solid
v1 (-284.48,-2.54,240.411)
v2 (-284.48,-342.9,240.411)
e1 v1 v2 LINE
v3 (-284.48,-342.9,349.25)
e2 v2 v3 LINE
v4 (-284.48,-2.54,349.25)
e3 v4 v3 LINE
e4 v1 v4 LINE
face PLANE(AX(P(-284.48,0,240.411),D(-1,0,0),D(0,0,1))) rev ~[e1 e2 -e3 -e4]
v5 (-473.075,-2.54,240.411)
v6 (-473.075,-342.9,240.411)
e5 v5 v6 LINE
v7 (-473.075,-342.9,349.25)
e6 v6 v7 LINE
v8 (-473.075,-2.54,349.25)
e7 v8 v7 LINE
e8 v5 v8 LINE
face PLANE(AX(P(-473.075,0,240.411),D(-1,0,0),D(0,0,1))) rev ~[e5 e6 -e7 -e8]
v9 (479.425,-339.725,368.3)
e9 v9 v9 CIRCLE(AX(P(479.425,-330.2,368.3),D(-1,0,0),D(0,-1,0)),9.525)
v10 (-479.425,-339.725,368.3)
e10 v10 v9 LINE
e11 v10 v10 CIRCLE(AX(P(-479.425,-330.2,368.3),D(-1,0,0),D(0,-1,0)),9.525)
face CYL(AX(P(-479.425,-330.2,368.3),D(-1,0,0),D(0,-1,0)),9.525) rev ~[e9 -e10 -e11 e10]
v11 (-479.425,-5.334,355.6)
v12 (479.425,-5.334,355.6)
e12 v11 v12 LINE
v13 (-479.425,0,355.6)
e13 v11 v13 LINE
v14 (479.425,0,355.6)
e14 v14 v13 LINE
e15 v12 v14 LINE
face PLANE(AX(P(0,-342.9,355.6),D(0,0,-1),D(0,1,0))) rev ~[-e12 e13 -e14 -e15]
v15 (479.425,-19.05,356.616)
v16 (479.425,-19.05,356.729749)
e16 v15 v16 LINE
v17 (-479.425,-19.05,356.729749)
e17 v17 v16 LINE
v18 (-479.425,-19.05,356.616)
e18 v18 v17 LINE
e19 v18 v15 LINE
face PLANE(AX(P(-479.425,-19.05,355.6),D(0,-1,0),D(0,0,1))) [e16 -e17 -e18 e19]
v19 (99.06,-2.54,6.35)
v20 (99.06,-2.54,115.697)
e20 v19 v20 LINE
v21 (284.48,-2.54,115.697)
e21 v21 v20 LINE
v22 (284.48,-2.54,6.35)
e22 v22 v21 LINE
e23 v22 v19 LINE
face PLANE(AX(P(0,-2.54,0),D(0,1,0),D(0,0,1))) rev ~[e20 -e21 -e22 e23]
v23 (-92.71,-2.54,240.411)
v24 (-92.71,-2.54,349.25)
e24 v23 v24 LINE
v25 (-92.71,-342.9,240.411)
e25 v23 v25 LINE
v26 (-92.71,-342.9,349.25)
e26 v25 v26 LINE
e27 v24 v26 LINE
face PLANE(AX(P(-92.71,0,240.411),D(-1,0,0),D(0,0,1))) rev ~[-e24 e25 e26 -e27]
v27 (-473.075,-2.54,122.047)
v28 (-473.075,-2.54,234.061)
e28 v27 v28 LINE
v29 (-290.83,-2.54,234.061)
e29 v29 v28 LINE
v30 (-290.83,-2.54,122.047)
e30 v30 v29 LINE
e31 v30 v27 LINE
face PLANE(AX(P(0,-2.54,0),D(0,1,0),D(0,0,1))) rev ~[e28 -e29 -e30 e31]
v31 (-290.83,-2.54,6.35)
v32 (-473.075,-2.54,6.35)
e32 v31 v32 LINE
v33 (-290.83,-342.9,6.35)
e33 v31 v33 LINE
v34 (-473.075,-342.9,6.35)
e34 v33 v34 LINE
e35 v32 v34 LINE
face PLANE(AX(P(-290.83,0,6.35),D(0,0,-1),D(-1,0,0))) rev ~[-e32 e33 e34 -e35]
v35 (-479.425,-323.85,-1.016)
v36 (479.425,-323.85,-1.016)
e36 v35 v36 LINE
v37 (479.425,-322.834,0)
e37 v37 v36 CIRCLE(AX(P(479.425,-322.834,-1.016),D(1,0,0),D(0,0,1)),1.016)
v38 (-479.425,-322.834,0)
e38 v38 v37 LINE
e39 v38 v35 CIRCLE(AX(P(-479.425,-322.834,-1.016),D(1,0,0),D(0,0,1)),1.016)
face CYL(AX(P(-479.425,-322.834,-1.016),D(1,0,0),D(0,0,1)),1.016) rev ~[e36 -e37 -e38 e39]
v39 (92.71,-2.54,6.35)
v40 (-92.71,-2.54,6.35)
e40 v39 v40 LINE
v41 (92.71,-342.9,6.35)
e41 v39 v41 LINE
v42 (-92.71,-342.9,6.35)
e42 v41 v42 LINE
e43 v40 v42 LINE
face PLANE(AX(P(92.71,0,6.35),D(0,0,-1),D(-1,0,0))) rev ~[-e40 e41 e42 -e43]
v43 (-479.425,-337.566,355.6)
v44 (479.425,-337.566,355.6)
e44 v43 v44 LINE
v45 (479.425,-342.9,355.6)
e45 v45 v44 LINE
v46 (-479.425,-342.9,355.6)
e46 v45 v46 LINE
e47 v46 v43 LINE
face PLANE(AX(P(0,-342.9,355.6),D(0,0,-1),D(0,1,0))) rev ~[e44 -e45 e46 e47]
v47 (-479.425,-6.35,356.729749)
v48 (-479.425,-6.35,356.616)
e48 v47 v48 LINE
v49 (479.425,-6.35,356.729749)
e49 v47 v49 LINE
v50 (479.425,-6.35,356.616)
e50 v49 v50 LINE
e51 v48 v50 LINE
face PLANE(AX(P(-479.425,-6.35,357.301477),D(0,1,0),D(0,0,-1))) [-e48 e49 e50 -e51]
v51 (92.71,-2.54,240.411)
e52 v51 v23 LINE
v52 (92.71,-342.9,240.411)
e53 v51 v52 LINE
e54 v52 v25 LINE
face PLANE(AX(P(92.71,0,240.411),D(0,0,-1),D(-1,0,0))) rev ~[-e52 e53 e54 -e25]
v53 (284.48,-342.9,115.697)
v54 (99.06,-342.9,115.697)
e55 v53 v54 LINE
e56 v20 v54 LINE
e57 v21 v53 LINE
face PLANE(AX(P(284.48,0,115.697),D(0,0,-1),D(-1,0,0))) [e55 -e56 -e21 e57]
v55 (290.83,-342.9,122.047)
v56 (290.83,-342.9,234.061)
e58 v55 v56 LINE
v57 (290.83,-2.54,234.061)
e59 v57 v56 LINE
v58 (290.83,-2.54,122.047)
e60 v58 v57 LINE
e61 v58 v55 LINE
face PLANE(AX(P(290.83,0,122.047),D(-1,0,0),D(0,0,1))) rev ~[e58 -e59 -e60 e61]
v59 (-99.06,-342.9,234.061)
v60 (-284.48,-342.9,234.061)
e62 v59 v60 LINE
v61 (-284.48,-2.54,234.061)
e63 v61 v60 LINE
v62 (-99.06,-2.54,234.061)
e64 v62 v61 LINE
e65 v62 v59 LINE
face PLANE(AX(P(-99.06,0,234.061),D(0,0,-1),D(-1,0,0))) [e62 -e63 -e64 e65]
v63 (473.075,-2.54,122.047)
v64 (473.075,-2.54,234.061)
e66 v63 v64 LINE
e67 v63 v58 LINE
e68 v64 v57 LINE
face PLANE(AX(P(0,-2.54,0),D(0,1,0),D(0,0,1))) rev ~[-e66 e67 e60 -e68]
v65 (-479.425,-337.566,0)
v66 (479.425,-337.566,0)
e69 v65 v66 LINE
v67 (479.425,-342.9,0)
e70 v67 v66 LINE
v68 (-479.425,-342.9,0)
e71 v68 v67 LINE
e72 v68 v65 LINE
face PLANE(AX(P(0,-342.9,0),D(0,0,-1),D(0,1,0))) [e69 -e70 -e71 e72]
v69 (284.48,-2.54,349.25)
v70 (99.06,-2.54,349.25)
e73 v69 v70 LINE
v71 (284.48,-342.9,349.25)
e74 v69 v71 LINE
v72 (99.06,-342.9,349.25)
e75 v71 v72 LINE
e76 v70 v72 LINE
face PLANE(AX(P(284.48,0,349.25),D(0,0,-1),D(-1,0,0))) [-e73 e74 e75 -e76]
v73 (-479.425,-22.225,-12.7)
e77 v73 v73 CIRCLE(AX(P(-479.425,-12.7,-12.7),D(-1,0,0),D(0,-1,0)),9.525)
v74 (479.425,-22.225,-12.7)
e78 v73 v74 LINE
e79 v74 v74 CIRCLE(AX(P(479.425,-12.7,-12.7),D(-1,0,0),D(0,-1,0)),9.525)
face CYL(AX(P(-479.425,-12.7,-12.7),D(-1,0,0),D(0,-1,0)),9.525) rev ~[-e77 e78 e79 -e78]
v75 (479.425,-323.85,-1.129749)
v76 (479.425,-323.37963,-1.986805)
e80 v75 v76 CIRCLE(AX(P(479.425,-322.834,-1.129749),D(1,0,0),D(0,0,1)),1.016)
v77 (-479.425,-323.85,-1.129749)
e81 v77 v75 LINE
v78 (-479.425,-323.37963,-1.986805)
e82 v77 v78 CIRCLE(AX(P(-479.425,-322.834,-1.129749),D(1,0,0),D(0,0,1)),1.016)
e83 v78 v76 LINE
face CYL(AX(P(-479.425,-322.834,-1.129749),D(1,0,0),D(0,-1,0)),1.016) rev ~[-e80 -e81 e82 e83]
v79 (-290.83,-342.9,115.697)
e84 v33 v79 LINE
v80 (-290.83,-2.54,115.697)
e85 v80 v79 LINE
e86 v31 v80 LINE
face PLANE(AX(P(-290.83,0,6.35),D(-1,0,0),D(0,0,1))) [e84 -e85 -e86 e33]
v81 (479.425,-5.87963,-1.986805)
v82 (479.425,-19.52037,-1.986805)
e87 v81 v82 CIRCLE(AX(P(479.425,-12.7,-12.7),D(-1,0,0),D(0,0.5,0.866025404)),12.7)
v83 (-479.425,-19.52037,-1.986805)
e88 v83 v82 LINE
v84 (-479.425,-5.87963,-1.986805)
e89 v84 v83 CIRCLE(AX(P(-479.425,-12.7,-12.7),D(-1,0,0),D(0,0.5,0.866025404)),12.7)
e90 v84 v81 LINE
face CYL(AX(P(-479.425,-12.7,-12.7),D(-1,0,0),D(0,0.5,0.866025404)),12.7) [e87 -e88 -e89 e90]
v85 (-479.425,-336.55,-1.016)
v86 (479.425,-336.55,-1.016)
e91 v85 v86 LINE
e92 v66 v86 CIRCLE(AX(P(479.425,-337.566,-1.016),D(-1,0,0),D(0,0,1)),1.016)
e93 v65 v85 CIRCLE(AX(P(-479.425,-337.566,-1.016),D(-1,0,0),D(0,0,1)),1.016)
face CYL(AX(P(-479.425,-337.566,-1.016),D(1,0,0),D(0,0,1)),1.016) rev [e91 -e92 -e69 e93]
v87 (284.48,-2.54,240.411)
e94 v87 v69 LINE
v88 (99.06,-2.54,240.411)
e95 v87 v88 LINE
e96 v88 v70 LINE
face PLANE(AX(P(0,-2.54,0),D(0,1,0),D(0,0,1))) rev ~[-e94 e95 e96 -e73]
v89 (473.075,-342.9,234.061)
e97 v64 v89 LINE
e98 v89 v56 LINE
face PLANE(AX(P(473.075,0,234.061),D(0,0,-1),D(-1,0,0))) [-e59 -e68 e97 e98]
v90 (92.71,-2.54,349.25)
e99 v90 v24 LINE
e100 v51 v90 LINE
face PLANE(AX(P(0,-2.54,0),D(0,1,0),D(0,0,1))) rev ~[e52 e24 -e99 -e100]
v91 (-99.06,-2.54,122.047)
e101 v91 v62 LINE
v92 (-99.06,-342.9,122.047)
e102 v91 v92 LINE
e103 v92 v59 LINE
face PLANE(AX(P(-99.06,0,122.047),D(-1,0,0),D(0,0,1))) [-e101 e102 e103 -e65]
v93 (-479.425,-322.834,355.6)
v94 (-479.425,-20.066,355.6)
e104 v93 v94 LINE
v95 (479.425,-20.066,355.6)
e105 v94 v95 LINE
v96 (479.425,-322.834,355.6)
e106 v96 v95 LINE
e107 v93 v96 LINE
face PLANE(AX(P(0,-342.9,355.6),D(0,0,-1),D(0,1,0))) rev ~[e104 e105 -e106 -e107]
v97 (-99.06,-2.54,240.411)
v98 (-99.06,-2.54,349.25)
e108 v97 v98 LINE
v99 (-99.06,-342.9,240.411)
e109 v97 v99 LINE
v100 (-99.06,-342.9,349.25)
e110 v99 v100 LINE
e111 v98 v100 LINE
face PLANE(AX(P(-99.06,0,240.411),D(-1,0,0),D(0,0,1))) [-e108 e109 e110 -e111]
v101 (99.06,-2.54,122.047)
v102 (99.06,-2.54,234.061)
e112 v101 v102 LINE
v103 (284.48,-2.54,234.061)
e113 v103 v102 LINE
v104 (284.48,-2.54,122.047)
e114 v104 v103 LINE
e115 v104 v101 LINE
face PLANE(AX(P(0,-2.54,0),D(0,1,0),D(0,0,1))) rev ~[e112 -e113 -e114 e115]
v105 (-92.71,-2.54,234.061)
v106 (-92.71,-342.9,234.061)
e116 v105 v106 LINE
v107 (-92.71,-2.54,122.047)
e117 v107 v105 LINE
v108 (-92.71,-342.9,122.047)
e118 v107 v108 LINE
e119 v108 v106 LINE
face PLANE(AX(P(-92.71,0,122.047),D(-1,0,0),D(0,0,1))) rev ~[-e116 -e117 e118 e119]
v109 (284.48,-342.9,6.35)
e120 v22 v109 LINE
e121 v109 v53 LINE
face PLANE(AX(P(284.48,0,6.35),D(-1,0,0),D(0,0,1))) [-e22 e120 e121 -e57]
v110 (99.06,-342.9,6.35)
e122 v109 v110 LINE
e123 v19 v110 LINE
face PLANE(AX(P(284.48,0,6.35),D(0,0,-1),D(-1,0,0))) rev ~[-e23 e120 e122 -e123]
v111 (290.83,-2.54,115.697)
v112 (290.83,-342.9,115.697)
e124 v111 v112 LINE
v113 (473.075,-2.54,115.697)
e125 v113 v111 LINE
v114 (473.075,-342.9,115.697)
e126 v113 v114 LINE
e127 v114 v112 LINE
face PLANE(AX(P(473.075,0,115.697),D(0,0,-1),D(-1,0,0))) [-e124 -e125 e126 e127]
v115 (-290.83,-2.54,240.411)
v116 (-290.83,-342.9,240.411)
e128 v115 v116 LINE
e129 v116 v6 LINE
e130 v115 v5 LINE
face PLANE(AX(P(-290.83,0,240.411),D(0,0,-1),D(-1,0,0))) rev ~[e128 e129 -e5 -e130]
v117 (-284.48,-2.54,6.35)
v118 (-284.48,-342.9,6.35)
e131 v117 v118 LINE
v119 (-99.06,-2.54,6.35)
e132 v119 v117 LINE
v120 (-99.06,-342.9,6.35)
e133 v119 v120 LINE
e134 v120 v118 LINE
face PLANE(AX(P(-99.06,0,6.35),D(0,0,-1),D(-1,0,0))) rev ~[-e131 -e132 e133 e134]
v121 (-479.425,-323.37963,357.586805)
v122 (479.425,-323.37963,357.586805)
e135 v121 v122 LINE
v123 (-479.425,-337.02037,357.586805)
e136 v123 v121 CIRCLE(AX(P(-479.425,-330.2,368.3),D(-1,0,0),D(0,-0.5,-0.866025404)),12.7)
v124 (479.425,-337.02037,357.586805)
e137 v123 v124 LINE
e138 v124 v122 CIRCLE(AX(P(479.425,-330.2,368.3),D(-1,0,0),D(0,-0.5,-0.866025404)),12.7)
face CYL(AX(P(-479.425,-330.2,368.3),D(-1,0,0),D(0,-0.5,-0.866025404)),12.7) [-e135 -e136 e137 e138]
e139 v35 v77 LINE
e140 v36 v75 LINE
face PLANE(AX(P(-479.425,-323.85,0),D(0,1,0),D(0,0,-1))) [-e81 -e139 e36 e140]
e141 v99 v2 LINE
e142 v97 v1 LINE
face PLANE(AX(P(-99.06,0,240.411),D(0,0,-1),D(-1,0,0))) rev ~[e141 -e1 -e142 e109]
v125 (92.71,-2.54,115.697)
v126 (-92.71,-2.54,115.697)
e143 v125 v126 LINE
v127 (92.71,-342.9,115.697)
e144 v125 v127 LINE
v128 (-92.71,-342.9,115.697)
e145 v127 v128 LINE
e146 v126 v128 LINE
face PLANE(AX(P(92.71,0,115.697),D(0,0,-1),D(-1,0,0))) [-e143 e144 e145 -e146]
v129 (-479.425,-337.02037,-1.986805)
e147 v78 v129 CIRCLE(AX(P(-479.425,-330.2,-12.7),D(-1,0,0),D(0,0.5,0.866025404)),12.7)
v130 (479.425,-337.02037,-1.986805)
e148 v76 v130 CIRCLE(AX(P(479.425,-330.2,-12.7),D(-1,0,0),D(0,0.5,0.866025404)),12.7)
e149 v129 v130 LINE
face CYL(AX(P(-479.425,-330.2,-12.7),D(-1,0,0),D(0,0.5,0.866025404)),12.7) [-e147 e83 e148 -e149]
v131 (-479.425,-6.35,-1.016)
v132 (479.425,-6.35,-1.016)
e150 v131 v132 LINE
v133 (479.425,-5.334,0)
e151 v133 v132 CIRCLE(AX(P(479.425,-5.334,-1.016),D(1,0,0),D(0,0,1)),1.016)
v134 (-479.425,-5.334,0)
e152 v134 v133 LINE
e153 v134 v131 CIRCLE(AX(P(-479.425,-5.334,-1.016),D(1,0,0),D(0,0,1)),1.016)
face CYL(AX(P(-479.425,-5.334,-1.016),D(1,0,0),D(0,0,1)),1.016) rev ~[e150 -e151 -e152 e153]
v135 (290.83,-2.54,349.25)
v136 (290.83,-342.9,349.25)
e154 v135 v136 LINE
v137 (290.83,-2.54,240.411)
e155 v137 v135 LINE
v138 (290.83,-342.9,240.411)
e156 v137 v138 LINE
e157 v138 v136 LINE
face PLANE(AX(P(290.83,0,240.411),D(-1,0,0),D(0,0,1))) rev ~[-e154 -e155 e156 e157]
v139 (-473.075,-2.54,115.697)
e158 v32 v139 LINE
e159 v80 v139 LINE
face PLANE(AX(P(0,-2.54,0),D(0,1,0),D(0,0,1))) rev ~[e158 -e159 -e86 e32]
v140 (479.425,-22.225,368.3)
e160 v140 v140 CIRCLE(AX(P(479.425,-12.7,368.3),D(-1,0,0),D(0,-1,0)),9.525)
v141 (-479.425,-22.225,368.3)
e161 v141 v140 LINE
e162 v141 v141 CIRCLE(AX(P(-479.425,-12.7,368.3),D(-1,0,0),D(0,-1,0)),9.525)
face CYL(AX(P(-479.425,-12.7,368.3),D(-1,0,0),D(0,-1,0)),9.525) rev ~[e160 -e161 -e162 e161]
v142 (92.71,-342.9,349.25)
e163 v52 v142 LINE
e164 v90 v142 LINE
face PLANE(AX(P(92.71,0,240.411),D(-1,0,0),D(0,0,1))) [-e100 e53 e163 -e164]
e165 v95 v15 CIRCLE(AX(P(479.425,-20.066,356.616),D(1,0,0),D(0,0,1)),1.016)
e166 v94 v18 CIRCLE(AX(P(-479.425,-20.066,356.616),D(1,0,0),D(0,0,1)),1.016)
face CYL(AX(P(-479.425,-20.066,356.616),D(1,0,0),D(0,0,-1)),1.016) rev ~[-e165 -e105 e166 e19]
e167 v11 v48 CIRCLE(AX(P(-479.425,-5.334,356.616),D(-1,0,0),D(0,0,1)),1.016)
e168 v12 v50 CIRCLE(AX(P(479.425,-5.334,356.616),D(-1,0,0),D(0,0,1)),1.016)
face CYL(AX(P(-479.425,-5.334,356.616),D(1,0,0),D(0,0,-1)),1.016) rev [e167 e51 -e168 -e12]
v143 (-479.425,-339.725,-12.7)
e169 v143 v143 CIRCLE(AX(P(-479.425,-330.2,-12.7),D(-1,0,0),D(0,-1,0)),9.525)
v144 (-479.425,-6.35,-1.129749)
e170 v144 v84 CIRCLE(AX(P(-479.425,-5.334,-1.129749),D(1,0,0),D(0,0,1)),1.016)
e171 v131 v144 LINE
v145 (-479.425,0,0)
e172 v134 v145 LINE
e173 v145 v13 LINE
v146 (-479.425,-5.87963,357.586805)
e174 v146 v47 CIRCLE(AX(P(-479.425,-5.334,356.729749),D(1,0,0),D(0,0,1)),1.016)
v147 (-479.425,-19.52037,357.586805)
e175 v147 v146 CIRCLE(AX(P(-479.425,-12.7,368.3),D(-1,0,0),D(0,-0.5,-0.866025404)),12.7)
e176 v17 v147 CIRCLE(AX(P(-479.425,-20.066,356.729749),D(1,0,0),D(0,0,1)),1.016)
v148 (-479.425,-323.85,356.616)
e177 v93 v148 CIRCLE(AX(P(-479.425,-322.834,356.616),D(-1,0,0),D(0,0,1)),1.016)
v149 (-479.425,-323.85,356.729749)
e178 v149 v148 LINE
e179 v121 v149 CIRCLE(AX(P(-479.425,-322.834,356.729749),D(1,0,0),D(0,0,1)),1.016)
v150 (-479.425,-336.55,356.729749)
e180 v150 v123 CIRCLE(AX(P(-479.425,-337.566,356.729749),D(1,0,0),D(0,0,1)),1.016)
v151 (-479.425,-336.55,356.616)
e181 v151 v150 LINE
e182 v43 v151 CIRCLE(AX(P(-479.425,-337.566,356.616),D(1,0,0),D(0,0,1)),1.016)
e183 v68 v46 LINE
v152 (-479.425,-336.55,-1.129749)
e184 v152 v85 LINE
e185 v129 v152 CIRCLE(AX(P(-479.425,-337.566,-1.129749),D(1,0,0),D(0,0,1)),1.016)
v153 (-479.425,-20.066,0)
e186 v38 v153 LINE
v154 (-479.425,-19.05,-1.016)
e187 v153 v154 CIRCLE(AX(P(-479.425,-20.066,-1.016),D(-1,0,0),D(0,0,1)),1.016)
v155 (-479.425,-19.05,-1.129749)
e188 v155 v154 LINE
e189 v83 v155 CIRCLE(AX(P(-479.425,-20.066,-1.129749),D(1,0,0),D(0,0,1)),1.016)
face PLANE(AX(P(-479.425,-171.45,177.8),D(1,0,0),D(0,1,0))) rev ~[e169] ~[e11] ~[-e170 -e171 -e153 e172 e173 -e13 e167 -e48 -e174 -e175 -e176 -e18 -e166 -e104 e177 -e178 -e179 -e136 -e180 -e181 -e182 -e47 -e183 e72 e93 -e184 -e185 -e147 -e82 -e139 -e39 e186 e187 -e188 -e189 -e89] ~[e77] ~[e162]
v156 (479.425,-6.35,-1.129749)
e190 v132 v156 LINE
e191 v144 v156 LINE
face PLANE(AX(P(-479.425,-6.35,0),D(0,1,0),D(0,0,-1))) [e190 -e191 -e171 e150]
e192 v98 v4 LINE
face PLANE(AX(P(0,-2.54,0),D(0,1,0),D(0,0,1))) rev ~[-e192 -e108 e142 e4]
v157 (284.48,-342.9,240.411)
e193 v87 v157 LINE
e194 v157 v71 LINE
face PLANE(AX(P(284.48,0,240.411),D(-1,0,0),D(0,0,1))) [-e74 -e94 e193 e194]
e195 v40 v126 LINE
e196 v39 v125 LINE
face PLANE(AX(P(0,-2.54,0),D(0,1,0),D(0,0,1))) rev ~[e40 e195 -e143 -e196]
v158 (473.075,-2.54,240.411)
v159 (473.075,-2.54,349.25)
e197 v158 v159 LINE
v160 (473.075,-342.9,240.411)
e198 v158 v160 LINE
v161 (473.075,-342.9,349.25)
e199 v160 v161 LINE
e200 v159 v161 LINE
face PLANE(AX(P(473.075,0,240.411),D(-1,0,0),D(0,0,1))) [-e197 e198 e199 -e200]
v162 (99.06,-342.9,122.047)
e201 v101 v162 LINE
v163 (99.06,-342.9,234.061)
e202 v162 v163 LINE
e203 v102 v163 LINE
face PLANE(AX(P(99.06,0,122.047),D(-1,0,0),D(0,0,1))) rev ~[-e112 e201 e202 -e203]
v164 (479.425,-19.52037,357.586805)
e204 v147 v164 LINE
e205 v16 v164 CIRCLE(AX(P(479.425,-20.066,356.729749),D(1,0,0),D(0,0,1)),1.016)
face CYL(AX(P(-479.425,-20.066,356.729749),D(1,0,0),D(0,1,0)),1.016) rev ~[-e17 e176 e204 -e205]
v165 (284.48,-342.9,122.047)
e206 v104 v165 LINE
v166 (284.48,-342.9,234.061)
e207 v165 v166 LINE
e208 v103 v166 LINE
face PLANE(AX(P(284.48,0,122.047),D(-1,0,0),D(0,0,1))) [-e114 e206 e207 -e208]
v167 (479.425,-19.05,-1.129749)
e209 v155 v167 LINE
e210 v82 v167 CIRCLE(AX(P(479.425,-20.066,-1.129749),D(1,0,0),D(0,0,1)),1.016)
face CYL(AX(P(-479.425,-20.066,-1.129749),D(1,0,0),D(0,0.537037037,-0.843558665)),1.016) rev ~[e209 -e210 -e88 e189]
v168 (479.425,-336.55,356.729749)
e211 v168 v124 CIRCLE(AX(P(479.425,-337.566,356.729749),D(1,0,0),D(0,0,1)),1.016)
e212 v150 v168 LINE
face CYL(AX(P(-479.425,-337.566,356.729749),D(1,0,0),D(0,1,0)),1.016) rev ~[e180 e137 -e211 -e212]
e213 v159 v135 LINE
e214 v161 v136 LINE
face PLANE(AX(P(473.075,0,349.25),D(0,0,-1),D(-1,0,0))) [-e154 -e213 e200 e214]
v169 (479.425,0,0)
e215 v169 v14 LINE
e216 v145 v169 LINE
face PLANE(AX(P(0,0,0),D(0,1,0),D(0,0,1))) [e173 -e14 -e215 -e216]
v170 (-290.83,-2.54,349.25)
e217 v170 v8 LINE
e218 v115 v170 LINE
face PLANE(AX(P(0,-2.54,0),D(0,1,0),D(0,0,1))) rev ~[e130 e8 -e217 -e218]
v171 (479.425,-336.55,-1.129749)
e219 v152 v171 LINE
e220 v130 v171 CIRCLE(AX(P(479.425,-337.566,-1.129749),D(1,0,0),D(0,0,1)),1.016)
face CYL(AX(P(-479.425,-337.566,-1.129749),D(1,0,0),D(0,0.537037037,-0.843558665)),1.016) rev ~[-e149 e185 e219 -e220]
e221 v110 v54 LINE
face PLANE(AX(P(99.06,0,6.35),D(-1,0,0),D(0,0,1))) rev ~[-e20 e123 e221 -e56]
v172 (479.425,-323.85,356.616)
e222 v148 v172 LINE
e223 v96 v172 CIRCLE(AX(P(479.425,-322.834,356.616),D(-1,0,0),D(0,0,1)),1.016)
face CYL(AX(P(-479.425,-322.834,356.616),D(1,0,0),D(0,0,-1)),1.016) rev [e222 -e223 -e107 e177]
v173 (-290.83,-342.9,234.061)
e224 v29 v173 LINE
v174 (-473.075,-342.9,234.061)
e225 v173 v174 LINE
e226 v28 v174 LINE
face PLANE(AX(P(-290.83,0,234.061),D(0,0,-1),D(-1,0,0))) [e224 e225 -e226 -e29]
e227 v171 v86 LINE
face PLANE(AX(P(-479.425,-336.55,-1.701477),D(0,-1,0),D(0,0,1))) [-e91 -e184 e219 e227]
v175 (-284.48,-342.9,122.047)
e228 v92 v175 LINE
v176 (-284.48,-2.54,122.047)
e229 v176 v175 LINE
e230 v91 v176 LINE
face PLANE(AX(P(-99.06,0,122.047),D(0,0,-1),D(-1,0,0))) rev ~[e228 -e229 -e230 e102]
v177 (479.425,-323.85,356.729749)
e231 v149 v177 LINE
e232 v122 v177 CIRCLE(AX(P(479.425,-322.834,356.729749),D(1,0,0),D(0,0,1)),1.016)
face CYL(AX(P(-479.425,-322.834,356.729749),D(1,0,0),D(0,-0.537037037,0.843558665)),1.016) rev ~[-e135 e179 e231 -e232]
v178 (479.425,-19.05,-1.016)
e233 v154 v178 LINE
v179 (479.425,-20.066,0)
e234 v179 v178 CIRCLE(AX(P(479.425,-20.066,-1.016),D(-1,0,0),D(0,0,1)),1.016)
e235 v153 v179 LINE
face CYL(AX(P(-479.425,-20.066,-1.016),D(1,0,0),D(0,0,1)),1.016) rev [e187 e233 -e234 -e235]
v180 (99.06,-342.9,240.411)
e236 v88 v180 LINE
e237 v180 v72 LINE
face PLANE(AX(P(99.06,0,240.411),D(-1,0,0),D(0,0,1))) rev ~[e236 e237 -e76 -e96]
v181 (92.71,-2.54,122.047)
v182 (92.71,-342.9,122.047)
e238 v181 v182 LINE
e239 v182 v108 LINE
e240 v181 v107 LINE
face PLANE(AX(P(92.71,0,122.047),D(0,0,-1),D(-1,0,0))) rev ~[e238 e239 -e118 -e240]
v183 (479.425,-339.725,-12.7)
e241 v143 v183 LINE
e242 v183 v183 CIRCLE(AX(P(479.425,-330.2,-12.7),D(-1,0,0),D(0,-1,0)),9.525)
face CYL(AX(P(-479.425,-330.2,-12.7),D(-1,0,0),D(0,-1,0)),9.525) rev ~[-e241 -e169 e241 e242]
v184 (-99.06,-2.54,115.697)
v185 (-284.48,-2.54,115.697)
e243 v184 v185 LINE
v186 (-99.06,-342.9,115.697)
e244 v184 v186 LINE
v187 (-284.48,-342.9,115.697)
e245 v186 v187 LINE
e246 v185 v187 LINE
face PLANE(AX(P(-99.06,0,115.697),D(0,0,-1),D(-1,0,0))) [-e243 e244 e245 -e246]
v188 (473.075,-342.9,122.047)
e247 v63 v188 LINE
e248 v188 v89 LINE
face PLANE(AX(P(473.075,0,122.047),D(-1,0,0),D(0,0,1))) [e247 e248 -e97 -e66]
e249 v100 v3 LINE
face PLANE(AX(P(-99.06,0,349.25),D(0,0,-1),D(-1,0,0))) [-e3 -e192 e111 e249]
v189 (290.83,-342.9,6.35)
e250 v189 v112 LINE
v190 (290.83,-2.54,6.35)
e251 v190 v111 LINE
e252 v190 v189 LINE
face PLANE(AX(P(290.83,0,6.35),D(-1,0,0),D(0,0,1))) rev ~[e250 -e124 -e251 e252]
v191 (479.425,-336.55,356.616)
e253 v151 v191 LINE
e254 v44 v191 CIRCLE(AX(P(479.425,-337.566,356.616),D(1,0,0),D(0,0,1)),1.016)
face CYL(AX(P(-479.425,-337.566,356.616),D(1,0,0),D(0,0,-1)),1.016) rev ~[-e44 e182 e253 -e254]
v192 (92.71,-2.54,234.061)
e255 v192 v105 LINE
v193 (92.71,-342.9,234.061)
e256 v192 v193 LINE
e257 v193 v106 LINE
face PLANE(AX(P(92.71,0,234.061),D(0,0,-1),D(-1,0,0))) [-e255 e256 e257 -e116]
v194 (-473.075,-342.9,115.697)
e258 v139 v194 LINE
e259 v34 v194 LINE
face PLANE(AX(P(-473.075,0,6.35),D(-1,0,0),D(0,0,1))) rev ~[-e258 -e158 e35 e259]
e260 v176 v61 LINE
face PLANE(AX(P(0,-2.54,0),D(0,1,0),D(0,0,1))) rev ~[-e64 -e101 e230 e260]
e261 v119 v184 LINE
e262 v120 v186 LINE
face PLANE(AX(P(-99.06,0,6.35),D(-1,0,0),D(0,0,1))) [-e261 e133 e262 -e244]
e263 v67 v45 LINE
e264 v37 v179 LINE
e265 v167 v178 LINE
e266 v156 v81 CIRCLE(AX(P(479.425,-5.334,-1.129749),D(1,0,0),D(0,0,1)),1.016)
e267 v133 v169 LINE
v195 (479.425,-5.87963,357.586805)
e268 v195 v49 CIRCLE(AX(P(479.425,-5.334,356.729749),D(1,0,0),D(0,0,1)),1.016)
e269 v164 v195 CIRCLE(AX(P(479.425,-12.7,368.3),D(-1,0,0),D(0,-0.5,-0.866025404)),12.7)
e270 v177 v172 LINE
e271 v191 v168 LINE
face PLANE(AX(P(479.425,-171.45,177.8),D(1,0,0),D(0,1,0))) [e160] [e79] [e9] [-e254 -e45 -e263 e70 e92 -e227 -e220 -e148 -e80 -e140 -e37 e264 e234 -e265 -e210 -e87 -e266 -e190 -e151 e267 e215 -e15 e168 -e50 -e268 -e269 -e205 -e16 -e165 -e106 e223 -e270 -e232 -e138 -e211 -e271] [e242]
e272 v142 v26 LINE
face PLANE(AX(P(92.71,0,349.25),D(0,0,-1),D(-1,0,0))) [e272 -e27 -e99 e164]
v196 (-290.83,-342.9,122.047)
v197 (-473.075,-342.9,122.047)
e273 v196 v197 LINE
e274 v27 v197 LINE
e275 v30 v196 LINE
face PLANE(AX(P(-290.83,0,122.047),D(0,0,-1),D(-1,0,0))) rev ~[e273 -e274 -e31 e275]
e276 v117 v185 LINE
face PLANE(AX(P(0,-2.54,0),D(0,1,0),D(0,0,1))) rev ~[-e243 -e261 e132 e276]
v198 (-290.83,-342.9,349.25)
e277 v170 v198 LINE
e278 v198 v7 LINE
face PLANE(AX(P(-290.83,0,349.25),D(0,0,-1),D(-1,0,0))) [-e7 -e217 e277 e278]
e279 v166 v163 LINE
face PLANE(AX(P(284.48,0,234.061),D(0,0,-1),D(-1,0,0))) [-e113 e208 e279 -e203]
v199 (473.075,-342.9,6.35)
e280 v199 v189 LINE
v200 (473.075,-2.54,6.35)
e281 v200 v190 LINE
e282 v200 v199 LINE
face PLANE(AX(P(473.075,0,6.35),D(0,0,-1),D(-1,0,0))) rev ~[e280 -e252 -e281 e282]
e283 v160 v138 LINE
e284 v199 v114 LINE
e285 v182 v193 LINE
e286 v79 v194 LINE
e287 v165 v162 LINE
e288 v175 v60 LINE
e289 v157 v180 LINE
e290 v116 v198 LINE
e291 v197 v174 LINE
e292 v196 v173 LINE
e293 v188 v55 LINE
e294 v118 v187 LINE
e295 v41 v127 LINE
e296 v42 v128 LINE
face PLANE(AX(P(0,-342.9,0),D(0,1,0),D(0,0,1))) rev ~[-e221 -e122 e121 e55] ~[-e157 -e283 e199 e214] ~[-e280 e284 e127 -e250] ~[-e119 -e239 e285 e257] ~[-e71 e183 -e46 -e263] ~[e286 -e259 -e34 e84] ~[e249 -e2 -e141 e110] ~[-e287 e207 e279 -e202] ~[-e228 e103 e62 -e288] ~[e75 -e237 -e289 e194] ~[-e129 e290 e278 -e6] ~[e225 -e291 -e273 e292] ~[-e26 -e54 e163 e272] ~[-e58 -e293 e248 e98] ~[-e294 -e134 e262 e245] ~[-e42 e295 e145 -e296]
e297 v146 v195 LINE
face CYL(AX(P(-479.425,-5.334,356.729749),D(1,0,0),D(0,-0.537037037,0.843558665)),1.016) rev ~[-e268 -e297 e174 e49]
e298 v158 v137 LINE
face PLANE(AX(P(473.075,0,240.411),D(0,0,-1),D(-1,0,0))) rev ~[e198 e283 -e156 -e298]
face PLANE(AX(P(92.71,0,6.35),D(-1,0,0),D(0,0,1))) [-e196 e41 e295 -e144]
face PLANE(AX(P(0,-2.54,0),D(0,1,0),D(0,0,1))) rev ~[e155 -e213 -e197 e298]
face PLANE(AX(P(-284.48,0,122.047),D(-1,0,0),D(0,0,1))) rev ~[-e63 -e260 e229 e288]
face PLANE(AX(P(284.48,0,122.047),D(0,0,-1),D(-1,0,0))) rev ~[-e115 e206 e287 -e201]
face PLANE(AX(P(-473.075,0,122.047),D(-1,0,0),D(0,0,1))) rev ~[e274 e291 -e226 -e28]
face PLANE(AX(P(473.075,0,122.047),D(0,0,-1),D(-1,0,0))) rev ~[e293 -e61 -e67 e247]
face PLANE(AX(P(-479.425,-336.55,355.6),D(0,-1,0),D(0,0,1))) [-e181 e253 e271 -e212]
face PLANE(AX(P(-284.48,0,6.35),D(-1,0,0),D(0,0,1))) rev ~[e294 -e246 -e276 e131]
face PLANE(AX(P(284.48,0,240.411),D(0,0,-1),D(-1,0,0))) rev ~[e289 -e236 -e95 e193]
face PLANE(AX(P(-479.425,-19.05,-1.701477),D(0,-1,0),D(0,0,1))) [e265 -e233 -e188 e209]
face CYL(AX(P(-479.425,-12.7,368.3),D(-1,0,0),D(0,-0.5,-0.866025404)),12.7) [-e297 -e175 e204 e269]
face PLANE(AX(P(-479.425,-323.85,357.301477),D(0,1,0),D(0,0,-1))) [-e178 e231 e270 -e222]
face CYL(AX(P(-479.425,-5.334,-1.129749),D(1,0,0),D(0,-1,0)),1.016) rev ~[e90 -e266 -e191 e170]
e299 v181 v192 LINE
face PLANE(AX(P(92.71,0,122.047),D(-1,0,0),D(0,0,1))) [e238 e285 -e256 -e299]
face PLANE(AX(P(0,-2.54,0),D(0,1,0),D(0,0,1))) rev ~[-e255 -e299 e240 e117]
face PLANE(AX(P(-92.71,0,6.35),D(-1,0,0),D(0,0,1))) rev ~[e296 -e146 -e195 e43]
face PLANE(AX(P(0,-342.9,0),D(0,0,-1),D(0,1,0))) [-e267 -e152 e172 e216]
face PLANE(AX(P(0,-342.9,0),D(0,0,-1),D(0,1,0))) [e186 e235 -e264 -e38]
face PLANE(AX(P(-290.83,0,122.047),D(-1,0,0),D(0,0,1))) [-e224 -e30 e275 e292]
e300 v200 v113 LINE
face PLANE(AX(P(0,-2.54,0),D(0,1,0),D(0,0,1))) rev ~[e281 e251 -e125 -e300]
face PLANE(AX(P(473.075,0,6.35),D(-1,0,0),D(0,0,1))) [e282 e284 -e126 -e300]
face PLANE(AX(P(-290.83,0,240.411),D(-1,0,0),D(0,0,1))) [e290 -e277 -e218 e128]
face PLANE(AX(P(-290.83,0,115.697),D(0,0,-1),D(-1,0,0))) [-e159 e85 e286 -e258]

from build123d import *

# Parameters (mm, degrees)
F0_W     = 342.9
F0_H     = 355.6
F1_DEPTH = 479.425
F2_T     = -2.54
F3_R     = 9.525
F4_DEPTH = 958.85
F5_W     = 958.85
F5_H     = 355.6
F5_W_2   = 182.245
F5_H_2   = 109.347
F5_W_3   = 185.42
F5_H_3   = 112.014
F5_H_4   = 108.839
F6_DEPTH = 342.9
F7_R     = 1.016


with BuildPart() as f1:
    # F0 (on Right) → F1 (new body, symmetric)
    with BuildSketch(Plane.YZ):
        with Locations((-171.45, 177.8)):
            Rectangle(F0_W, F0_H)
    extrude(amount=F1_DEPTH, both=True)

    # F2
    f2_openings = [f1.faces().sort_by_distance(p)[0] for p in [
        (0, -342.9, 177.8),
    ]]
    offset(amount=F2_T, openings=f2_openings)

    # F3 (on face) → F4 (join, through all)
    with BuildSketch(Plane(origin=(-479.425, 0, 0), x_dir=(0, -1, 0), z_dir=(-1, 0, 0))):
        with BuildLine():
            Line((19.05, 355.6), (19.05, 357.3014773719))
            ThreePointArc((19.05, 357.3014773719), (12.7, 381), (6.35, 357.3014773719))
            Line((6.35, 357.3014773719), (6.35, 355.6))
            Line((6.35, 355.6), (19.05, 355.6))
        make_face()
        with Locations((12.7, 368.3)):
            Circle(F3_R, mode=Mode.SUBTRACT)
        with BuildLine():
            Line((336.55, 355.6), (336.55, 357.3014773719))
            ThreePointArc((336.55, 357.3014773719), (330.2, 381), (323.85, 357.3014773719))
            Line((323.85, 357.3014773719), (323.85, 355.6))
            Line((323.85, 355.6), (336.55, 355.6))
        make_face()
        with Locations((330.2, 368.3)):
            Circle(F3_R, mode=Mode.SUBTRACT)
        with BuildLine():
            Line((6.35, 0), (6.35, -1.7014773719))
            ThreePointArc((6.35, -1.7014773719), (12.7, -25.4), (19.05, -1.7014773719))
            Line((19.05, -1.7014773719), (19.05, 0))
            Line((19.05, 0), (6.35, 0))
        make_face()
        with Locations((12.7, -12.7)):
            Circle(F3_R, mode=Mode.SUBTRACT)
        with BuildLine():
            Line((323.85, 0), (323.85, -1.7014773719))
            ThreePointArc((323.85, -1.7014773719), (330.2, -25.4), (336.55, -1.7014773719))
            Line((336.55, -1.7014773719), (336.55, 0))
            Line((336.55, 0), (323.85, 0))
        make_face()
        with Locations((330.2, -12.7)):
            Circle(F3_R, mode=Mode.SUBTRACT)
    extrude(amount=-F4_DEPTH)

    # F5 (on face) → F6 (join, through all)
    with BuildSketch(Plane(origin=(0, 0, 0), x_dir=(-1, 0, 0), z_dir=(0, 1, 0))):
        with Locations((0, 177.8)):
            Rectangle(F5_W, F5_H)
        with Locations((-381.9525, 61.0235)):
            Rectangle(F5_W_2, F5_H_2, mode=Mode.SUBTRACT)
        with Locations((-191.77, 61.0235)):
            Rectangle(F5_W_3, F5_H_2, mode=Mode.SUBTRACT)
        with Locations((0, 61.0235)):
            Rectangle(F5_W_3, F5_H_2, mode=Mode.SUBTRACT)
        with Locations((191.77, 61.0235)):
            Rectangle(F5_W_3, F5_H_2, mode=Mode.SUBTRACT)
        with Locations((381.9525, 61.0235)):
            Rectangle(F5_W_2, F5_H_2, mode=Mode.SUBTRACT)
        with Locations((-381.9525, 178.054)):
            Rectangle(F5_W_2, F5_H_3, mode=Mode.SUBTRACT)
        with Locations((-191.77, 178.054)):
            Rectangle(F5_W_3, F5_H_3, mode=Mode.SUBTRACT)
        with Locations((0, 178.054)):
            Rectangle(F5_W_3, F5_H_3, mode=Mode.SUBTRACT)
        with Locations((-381.9525, 294.8305)):
            Rectangle(F5_W_2, F5_H_4, mode=Mode.SUBTRACT)
        with Locations((-191.77, 294.8305)):
            Rectangle(F5_W_3, F5_H_4, mode=Mode.SUBTRACT)
        with Locations((0, 294.8305)):
            Rectangle(F5_W_3, F5_H_4, mode=Mode.SUBTRACT)
        with Locations((191.77, 178.054)):
            Rectangle(F5_W_3, F5_H_3, mode=Mode.SUBTRACT)
        with Locations((381.9525, 178.054)):
            Rectangle(F5_W_2, F5_H_3, mode=Mode.SUBTRACT)
        with Locations((191.77, 294.8305)):
            Rectangle(F5_W_3, F5_H_4, mode=Mode.SUBTRACT)
        with Locations((381.9525, 294.8305)):
            Rectangle(F5_W_2, F5_H_4, mode=Mode.SUBTRACT)
    extrude(amount=-F6_DEPTH)

    # F7
    f7_edges = [f1.edges().sort_by_distance(p)[0] for p in [
        (0, -336.55, 357.301477),
        (0, -336.55, 355.6),
        (0, -323.85, 357.301477),
        (0, -323.85, 355.6),
        (0, -19.05, 355.6),
        (0, -19.05, 357.301477),
        (0, -6.35, 357.301477),
        (0, -6.35, 355.6),
        (0, -6.35, 0),
        (0, -6.35, -1.701477),
        (0, -19.05, 0),
        (0, -19.05, -1.701477),
        (0, -323.85, -1.701477),
        (0, -323.85, 0),
        (0, -336.55, 0),
        (0, -336.55, -1.701477),
    ]]
    fillet(f7_edges, radius=F7_R)


solid = f1.part
